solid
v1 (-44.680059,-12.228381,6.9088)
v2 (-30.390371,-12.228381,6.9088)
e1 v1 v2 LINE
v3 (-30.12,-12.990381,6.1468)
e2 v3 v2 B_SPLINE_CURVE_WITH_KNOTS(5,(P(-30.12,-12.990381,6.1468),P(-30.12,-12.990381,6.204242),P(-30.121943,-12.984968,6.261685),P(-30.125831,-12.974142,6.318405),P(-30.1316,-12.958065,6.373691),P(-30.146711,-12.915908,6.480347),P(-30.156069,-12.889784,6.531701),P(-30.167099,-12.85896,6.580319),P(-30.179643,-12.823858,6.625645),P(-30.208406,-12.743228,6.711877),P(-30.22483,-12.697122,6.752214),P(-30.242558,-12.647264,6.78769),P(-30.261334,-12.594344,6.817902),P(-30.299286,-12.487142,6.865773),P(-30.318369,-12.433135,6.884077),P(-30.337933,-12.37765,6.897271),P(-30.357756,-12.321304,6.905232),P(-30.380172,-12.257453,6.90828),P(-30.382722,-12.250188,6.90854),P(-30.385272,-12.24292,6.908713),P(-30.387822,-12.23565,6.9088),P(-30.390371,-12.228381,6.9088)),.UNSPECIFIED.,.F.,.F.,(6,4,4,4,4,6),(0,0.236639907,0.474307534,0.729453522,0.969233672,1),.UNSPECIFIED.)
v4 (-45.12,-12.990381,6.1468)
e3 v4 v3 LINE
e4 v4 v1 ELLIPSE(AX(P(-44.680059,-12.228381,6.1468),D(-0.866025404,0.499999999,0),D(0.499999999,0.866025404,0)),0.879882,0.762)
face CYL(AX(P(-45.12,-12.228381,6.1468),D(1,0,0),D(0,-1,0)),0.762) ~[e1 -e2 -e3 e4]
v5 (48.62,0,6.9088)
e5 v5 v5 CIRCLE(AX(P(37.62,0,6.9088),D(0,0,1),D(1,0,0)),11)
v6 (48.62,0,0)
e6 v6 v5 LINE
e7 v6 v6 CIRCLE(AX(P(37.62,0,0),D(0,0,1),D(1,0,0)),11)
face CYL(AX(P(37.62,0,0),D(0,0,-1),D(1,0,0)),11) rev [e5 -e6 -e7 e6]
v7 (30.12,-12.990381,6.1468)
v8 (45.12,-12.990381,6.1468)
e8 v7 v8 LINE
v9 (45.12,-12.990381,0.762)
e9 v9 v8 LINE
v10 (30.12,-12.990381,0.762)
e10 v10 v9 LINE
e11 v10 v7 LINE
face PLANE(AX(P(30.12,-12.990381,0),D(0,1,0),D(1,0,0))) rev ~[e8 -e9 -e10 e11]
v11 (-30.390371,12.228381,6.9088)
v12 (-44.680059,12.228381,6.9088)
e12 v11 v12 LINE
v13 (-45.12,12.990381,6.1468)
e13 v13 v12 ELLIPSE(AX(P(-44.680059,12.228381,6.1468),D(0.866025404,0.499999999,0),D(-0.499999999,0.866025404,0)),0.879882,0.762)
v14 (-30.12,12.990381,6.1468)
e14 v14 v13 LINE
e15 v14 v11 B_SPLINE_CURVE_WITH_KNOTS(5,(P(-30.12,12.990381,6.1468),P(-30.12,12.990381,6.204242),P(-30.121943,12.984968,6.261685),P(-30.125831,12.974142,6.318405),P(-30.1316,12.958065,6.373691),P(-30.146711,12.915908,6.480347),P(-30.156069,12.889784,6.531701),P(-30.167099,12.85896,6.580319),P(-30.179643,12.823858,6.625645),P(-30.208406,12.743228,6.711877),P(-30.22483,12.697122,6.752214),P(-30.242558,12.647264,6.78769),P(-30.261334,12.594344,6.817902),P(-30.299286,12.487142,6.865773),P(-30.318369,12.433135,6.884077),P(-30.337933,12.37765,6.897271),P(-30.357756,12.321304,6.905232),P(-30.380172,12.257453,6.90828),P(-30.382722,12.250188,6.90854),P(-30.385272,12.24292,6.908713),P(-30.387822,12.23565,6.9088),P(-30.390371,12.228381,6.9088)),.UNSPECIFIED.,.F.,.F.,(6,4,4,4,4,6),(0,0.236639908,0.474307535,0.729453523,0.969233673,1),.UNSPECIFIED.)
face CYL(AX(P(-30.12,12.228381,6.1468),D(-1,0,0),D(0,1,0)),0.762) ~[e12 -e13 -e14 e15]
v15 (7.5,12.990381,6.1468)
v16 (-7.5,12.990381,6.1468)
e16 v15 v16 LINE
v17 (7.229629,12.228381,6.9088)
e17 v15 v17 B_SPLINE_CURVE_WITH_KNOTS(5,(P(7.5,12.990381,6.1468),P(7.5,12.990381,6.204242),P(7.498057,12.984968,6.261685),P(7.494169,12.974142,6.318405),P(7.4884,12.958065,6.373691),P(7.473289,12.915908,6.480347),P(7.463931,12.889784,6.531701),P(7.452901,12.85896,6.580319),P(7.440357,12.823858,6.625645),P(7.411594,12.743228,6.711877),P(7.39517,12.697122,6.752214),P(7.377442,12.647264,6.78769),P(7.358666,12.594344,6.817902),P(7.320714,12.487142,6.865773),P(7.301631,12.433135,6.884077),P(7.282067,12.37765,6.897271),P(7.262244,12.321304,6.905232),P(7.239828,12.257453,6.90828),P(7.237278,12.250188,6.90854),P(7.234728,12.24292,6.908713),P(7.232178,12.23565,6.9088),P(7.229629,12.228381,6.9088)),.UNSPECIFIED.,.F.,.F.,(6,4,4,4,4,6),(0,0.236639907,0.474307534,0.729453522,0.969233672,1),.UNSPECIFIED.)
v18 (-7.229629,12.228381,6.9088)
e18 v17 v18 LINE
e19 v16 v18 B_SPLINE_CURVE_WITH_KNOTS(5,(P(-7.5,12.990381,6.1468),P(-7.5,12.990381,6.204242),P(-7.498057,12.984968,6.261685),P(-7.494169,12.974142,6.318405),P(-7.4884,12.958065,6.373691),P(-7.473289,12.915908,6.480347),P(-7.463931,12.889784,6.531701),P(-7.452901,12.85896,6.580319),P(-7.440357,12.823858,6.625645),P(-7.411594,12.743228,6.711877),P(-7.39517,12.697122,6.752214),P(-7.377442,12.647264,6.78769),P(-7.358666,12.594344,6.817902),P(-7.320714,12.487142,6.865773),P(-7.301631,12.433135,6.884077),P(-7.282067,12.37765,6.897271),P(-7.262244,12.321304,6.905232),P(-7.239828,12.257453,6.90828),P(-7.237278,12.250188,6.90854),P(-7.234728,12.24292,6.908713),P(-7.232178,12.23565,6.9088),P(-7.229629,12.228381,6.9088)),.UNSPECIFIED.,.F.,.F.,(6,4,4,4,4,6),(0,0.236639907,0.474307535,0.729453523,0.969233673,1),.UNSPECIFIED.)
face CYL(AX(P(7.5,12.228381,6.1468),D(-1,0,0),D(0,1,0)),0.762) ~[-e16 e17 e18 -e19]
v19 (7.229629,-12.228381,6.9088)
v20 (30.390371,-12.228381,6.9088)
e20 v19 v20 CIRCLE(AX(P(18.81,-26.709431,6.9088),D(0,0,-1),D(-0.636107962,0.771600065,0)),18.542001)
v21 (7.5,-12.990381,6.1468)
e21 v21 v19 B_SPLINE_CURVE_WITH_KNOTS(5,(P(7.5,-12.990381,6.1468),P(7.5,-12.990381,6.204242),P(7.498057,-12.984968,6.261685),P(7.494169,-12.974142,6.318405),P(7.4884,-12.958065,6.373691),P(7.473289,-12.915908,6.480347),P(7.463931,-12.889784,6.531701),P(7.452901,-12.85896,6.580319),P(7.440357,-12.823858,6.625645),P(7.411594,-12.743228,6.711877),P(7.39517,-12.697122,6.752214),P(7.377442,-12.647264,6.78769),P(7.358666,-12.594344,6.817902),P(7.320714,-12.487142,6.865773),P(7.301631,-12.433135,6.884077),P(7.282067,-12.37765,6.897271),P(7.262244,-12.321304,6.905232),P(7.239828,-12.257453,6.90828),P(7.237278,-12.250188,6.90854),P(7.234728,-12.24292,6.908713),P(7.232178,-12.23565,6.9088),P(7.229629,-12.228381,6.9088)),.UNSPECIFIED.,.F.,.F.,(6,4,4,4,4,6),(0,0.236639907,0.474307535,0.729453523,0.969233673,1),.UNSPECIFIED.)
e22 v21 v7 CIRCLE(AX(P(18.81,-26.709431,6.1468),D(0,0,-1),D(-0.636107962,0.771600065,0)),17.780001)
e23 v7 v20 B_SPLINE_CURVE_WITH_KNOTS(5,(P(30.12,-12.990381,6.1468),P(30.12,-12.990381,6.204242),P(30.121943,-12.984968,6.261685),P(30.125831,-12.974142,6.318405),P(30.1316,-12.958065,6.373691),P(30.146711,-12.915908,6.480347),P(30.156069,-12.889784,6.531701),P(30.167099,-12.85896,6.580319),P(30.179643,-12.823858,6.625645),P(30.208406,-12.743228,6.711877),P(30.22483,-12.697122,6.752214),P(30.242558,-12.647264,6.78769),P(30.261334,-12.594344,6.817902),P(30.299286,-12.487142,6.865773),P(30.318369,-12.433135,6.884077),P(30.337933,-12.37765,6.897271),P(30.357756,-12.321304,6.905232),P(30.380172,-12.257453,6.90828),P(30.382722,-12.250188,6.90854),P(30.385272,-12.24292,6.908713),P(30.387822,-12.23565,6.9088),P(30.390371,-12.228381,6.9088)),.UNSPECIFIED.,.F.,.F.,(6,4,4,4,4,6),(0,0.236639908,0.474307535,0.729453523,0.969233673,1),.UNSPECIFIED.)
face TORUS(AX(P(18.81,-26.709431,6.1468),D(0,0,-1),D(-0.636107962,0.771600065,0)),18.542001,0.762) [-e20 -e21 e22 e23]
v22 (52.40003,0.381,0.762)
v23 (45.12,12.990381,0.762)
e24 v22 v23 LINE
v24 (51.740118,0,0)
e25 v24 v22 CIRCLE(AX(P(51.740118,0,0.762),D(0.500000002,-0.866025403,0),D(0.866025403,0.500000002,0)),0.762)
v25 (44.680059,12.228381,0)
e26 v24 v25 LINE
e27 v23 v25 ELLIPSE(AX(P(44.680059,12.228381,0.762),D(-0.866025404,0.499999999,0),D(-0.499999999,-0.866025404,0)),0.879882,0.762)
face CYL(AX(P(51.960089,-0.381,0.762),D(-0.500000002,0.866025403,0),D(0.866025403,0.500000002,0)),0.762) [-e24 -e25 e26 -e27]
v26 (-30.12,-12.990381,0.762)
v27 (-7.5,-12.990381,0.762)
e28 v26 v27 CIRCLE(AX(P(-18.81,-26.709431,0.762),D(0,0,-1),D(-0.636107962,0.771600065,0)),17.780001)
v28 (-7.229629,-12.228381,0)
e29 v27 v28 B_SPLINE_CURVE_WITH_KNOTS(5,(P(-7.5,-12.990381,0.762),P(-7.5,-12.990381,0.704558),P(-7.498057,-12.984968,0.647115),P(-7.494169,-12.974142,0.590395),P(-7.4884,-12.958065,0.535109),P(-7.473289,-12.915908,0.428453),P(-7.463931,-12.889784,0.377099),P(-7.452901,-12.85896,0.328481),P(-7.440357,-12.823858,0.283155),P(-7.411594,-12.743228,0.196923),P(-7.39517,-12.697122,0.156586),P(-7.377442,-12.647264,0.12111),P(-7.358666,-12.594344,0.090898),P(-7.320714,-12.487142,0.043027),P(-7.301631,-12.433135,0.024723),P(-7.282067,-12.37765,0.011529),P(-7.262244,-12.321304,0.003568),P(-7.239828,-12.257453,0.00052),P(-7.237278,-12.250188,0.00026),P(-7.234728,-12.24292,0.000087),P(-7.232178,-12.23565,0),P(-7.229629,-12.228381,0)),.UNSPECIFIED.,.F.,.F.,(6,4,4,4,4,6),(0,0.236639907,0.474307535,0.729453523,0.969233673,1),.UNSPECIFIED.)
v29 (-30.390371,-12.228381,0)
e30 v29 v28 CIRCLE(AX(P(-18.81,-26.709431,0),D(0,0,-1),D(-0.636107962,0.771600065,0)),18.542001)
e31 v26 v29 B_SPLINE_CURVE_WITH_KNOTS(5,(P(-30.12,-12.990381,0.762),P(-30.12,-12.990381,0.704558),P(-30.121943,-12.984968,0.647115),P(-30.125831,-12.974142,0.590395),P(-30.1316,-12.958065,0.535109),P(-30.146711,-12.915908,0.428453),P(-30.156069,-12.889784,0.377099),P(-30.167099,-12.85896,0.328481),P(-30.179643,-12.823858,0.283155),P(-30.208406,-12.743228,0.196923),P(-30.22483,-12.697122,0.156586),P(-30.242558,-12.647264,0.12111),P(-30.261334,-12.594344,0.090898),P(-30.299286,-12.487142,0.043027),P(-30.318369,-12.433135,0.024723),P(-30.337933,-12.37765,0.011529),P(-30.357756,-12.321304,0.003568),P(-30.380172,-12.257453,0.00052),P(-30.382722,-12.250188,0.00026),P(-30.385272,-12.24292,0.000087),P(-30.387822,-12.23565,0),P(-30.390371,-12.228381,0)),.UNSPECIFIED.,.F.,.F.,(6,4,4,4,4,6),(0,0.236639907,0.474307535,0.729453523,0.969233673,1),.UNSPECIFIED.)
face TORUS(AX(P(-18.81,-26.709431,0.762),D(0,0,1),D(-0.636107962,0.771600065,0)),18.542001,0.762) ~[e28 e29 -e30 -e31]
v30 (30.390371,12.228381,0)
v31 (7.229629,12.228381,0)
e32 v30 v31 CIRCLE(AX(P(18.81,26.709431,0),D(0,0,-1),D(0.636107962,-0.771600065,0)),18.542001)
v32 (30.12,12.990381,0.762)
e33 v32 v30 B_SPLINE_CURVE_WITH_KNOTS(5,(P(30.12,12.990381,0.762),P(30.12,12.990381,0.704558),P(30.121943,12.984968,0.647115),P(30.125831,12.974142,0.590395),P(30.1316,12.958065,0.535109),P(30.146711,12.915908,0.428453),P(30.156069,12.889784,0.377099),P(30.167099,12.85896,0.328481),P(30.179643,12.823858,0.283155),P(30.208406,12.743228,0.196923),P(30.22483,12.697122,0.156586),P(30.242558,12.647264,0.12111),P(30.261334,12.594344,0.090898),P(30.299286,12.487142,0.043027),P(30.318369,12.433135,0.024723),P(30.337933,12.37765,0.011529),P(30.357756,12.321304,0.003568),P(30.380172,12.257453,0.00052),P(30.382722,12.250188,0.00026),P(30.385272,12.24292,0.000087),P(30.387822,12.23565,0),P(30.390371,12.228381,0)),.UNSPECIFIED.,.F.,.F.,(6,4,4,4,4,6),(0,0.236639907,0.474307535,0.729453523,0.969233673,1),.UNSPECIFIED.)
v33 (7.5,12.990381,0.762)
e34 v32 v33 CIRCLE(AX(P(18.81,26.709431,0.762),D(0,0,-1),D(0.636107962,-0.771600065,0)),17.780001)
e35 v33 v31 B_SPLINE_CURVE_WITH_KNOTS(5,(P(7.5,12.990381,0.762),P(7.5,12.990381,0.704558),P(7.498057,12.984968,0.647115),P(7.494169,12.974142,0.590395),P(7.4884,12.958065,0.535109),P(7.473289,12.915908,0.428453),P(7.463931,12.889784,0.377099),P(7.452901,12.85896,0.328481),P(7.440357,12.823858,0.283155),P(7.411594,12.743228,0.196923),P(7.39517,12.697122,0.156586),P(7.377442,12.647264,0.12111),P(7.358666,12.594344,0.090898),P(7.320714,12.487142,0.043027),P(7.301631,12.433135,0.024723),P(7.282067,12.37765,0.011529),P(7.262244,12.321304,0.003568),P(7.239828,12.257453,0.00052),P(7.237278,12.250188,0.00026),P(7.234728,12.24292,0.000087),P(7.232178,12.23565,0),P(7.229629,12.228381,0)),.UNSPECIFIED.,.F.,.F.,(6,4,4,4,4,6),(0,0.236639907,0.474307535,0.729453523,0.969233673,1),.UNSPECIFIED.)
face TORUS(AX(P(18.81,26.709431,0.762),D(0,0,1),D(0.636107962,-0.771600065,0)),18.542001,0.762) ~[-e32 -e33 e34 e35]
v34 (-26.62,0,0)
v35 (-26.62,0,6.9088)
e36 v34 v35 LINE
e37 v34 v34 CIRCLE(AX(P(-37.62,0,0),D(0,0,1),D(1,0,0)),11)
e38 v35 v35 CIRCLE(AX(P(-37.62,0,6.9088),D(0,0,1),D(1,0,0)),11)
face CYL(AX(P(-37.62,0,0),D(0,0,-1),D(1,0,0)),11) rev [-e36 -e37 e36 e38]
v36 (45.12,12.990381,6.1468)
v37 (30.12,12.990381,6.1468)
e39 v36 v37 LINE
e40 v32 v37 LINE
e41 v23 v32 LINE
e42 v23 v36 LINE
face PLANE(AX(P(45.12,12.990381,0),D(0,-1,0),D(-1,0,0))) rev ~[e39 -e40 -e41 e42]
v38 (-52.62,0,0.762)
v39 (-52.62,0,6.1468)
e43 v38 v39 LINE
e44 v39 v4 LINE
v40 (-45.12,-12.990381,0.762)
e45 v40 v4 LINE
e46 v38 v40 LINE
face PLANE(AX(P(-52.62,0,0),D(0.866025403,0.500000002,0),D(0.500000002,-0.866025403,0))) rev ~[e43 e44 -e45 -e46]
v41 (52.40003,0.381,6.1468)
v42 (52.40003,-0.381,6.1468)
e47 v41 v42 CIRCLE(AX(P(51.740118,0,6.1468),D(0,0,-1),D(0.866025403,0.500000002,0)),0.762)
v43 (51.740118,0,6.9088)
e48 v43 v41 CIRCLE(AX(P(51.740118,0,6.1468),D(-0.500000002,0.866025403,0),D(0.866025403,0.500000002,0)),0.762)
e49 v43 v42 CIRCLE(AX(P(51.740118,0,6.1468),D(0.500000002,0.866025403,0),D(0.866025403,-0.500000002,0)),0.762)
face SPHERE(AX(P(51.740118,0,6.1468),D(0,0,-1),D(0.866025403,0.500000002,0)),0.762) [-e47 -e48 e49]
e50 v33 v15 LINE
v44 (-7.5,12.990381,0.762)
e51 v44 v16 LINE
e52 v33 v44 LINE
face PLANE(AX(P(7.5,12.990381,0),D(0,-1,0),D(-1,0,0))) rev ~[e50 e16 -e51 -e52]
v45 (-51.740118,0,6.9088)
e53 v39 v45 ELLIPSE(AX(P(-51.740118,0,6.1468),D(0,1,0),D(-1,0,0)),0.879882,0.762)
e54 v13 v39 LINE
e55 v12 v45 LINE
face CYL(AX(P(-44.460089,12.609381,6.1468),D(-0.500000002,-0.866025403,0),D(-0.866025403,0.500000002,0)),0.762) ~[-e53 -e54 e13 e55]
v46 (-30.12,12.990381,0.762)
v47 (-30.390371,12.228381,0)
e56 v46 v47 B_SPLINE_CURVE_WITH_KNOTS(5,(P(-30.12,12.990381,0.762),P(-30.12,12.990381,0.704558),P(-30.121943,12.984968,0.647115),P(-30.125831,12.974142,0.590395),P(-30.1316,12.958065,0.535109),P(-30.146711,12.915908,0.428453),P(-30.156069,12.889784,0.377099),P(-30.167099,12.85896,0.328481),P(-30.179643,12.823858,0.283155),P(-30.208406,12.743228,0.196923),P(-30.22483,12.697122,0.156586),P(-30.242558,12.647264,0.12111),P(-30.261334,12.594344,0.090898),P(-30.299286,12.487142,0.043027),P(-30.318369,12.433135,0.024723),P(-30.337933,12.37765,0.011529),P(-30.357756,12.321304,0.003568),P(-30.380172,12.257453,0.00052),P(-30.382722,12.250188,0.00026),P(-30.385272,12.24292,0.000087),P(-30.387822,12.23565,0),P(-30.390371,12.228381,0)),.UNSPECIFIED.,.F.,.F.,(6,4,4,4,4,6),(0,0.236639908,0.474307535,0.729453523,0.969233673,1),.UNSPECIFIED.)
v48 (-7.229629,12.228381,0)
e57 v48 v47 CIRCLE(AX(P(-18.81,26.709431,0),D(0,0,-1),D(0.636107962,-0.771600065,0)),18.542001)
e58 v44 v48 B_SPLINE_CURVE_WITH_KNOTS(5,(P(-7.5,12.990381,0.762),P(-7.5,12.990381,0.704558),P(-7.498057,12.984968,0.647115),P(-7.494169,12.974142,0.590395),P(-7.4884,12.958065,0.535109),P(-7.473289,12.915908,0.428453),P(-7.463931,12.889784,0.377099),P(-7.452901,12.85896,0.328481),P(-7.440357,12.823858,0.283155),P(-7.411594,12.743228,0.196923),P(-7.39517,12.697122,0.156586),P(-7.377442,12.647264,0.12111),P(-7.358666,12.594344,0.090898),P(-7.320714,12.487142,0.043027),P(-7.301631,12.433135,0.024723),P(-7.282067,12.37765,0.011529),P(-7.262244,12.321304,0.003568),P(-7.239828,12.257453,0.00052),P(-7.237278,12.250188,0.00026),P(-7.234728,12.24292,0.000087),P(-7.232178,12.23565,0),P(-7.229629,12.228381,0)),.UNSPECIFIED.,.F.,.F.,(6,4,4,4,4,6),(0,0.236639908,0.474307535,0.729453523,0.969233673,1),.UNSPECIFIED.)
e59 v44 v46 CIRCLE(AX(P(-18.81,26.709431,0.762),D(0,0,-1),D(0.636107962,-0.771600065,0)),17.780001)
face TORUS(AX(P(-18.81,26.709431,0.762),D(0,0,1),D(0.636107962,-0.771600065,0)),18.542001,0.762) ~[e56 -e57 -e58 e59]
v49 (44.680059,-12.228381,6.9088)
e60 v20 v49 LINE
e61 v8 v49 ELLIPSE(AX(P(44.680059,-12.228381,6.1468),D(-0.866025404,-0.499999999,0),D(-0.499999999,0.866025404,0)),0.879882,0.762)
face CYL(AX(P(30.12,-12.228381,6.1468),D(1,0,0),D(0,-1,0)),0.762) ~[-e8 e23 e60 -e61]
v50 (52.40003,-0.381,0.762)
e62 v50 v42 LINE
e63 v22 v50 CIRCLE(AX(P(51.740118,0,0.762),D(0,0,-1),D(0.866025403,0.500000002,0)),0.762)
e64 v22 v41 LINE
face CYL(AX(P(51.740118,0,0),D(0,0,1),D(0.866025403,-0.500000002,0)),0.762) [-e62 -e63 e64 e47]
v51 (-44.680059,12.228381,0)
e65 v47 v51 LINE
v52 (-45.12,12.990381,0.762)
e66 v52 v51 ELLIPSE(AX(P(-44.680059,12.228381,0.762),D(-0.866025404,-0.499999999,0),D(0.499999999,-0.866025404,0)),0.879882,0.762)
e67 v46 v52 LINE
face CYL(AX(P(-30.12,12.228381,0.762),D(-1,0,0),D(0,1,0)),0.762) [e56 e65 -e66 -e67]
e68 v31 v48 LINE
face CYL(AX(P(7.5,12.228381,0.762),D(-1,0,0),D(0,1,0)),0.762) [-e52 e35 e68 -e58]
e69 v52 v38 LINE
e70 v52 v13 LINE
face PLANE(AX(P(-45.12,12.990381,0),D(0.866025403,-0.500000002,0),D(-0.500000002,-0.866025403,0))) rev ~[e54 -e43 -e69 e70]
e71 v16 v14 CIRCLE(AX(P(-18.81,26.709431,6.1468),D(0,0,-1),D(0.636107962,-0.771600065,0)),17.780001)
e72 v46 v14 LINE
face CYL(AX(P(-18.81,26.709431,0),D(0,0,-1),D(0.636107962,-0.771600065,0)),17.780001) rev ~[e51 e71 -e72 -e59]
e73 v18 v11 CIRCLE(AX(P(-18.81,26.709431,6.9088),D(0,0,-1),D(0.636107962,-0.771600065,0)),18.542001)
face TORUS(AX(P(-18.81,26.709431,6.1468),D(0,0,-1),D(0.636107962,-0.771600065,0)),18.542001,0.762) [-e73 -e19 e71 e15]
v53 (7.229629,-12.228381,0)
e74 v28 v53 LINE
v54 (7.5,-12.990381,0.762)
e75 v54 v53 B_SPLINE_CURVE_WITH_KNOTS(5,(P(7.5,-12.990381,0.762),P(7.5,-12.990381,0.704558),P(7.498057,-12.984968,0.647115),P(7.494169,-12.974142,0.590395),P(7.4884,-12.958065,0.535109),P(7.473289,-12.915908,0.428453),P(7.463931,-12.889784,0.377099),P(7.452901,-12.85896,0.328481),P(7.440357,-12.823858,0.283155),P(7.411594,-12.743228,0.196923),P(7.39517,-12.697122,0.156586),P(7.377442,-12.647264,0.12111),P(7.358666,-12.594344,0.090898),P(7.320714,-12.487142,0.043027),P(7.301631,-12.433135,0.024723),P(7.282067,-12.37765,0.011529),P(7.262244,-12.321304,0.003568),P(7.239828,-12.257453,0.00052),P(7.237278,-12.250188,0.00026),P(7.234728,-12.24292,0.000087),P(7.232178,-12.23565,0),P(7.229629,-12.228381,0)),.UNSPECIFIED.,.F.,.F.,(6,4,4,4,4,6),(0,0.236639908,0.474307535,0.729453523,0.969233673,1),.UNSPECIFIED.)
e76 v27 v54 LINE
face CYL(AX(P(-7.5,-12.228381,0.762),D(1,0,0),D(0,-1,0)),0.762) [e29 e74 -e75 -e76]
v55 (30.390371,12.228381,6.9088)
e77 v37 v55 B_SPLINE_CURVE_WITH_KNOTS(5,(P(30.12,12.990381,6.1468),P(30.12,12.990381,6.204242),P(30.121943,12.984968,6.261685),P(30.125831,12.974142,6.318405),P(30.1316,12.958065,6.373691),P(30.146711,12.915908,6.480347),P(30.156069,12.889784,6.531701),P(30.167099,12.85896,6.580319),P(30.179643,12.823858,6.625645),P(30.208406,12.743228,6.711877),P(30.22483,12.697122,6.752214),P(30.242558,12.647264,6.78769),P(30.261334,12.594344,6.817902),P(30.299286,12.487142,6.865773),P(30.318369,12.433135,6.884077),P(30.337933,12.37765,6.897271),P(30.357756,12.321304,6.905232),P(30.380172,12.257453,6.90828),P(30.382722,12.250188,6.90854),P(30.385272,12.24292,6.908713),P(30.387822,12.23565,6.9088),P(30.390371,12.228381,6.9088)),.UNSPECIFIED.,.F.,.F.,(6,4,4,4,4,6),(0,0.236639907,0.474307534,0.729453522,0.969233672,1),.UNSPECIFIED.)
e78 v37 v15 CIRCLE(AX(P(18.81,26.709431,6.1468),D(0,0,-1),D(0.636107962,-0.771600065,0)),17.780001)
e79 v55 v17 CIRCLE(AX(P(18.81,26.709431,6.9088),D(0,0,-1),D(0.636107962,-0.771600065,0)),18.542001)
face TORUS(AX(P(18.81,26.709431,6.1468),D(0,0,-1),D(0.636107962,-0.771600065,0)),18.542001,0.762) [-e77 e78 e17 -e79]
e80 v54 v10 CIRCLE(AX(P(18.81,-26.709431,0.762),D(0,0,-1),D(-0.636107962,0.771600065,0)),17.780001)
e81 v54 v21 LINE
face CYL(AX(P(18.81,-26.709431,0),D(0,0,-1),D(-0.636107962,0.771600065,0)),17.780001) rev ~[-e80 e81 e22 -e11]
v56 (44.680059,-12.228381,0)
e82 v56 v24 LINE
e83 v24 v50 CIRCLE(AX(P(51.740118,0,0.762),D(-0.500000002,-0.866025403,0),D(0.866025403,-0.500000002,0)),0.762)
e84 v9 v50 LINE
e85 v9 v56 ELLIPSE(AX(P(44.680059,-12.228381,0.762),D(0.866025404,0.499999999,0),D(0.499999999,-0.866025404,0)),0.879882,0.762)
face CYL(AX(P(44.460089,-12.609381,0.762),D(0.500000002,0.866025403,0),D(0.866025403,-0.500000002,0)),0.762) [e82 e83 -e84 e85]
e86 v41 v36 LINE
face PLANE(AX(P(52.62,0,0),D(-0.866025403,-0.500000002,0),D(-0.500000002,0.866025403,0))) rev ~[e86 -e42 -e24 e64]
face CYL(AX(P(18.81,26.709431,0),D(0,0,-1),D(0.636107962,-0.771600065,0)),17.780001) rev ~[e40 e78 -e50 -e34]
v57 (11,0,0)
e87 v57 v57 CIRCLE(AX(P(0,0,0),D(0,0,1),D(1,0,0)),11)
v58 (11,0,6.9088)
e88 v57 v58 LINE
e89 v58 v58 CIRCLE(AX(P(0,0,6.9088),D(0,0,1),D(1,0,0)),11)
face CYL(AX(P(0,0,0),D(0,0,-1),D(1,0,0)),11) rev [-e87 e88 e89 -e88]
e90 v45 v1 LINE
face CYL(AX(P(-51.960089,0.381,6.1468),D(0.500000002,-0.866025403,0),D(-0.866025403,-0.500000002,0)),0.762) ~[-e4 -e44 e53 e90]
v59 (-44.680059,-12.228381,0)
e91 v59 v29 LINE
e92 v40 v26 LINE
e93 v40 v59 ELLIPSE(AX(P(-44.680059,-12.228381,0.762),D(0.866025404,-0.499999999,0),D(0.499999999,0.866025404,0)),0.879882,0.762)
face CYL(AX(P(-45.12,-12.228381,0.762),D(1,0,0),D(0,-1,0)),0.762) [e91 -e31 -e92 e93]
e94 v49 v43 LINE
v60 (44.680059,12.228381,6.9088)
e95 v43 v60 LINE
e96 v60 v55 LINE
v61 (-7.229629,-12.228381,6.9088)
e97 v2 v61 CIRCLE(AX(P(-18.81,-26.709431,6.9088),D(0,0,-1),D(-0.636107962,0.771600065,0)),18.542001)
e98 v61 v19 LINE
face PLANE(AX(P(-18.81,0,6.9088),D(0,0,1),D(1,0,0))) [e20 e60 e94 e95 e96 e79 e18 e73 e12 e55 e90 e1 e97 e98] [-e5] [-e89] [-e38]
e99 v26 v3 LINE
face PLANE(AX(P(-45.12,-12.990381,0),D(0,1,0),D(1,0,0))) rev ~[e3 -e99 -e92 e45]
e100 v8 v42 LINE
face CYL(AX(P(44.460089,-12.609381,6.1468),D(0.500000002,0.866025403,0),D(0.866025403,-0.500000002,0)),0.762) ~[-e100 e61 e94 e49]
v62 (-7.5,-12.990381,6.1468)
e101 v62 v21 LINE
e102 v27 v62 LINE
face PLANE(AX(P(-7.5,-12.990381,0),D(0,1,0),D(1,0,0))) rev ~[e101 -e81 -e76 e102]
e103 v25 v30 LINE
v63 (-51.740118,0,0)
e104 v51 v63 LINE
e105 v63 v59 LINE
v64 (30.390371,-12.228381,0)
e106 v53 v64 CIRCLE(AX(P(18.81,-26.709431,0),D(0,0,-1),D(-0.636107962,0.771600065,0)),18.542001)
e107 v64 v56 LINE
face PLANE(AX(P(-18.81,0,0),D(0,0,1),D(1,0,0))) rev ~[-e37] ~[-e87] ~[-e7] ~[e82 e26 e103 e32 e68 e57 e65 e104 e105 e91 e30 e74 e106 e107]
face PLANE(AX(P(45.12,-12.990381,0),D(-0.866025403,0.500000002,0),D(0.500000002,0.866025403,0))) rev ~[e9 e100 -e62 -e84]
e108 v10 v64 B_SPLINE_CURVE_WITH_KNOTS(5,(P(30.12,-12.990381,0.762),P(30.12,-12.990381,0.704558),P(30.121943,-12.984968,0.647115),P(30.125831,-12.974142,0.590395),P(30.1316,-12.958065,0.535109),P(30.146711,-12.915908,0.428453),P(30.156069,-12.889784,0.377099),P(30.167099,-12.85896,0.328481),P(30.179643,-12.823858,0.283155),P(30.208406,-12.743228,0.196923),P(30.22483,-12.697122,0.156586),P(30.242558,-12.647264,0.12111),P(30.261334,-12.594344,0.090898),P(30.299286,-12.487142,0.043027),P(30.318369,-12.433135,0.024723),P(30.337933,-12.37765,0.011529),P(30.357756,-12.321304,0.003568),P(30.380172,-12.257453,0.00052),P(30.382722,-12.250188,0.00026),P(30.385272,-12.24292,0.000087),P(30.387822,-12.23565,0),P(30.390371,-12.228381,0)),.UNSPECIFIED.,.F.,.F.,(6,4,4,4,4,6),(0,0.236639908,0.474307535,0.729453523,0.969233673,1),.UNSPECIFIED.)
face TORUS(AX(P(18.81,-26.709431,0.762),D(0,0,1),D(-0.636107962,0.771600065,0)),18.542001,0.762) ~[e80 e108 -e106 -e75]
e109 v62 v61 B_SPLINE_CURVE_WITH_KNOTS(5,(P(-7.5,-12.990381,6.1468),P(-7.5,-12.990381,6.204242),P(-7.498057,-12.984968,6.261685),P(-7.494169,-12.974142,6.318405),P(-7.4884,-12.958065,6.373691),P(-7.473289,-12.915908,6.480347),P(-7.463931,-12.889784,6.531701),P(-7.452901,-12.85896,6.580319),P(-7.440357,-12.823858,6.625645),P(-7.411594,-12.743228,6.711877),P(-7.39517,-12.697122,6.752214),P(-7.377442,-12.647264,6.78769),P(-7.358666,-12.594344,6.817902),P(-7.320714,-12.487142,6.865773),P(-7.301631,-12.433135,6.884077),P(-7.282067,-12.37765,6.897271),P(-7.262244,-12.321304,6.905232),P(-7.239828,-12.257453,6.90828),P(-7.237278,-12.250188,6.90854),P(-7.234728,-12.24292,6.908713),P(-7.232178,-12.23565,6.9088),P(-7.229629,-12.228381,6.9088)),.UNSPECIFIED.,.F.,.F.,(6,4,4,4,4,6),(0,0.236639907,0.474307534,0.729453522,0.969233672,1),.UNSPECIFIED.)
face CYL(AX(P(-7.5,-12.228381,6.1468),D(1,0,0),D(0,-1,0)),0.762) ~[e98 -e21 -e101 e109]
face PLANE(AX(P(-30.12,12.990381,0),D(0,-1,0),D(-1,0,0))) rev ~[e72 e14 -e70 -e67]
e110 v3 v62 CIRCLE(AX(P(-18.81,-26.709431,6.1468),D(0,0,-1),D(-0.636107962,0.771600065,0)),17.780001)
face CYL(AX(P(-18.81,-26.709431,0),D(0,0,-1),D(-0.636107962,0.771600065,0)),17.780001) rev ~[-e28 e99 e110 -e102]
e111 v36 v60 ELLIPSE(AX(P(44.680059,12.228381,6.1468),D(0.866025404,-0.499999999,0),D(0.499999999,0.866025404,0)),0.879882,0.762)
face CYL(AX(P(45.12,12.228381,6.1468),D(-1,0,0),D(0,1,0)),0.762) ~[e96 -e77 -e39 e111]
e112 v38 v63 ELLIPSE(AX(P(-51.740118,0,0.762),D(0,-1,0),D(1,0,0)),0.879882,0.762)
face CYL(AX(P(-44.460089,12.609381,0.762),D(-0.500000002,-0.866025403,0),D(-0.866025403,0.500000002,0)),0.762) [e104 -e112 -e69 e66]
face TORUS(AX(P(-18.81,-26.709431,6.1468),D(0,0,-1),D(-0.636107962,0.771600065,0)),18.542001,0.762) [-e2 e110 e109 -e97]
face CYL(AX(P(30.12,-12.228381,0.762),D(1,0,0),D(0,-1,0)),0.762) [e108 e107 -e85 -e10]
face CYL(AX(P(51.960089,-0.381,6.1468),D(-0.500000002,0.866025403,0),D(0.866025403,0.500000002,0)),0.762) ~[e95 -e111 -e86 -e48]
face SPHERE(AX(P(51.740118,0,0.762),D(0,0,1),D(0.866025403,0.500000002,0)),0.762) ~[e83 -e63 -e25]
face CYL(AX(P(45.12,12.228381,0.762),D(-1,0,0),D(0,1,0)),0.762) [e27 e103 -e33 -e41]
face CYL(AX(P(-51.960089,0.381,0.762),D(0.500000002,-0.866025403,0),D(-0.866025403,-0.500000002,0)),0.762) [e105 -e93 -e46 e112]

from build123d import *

# Parameters (mm, degrees)
F0_R     = 11
F1_DEPTH = 6.9088
F2_R     = 0.762


with BuildPart() as f1:
    # F0 (on Top) → F1 (new body)
    with BuildSketch(Plane.XY):
        with BuildLine():
            ThreePointArc((-30.12, -12.990381), (-18.81, -8.92943), (-7.5, -12.990381))
            Line((-7.5, -12.990381), (-15, 0))
            Line((-15, 0), (-7.5, 12.990381))
            ThreePointArc((-7.5, 12.990381), (-18.81, 8.92943), (-30.12, 12.990381))
            Line((-30.12, 12.990381), (-22.62, 0))
            Line((-22.62, 0), (-30.12, -12.990381))
        make_face()
        Polygon((22.62, 0), (30.12, -12.990381), (45.12, -12.990381), (52.62, 0), (45.12, 12.990381), (30.12, 12.990381), align=None)
        with Locations((37.62, 0)):
            Circle(F0_R, mode=Mode.SUBTRACT)
        Polygon((-45.12, -12.990381), (-30.12, -12.990381), (-22.62, 0), (-30.12, 12.990381), (-45.12, 12.990381), (-52.62, 0), align=None)
        with Locations((-37.62, 0)):
            Circle(F0_R, mode=Mode.SUBTRACT)
        Polygon((7.5, -12.990381), (15, 0), (7.5, 12.990381), (-7.5, 12.990381), (-15, 0), (-7.5, -12.990381), align=None)
        Circle(F0_R, mode=Mode.SUBTRACT)
        with BuildLine():
            Line((7.5, 12.990381), (15, 0))
            Line((15, 0), (7.5, -12.990381))
            ThreePointArc((7.5, -12.990381), (18.81, -8.92943), (30.12, -12.990381))
            Line((30.12, -12.990381), (22.62, 0))
            Line((22.62, 0), (30.12, 12.990381))
            ThreePointArc((30.12, 12.990381), (18.81, 8.92943), (7.5, 12.990381))
        make_face()
    extrude(amount=F1_DEPTH)

    # F2
    f2_edges = [f1.edges().sort_by_distance(p)[0] for p in [
        (-37.62, 12.990381, 6.9088),
        (-18.81, 8.92943, 6.9088),
        (0, 12.990381, 6.9088),
        (18.81, 8.92943, 6.9088),
        (48.87, 6.495191, 6.9088),
        (48.87, -6.495191, 6.9088),
        (37.62, -12.990381, 6.9088),
        (18.81, -8.92943, 6.9088),
        (0, -12.990381, 6.9088),
        (-37.62, -12.990381, 6.9088),
        (-48.87, 6.495191, 6.9088),
        (-48.87, -6.495191, 6.9088),
        (-18.81, -8.92943, 6.9088),
        (37.62, 12.990381, 6.9088),
        (18.81, -8.92943, 0),
        (0, -12.990381, 0),
        (-18.81, -8.92943, 0),
        (-37.62, -12.990381, 0),
        (-48.87, -6.495191, 0),
        (-48.87, 6.495191, 0),
        (37.62, -12.990381, 0),
        (48.87, -6.495191, 0),
        (52.62, 0, 3.4544),
        (37.62, 12.990381, 0),
        (18.81, 8.92943, 0),
        (0, 12.990381, 0),
        (-18.81, 8.92943, 0),
        (-37.62, 12.990381, 0),
        (48.87, 6.495191, 0),
    ]]
    fillet(f2_edges, radius=F2_R)


solid = f1.part
